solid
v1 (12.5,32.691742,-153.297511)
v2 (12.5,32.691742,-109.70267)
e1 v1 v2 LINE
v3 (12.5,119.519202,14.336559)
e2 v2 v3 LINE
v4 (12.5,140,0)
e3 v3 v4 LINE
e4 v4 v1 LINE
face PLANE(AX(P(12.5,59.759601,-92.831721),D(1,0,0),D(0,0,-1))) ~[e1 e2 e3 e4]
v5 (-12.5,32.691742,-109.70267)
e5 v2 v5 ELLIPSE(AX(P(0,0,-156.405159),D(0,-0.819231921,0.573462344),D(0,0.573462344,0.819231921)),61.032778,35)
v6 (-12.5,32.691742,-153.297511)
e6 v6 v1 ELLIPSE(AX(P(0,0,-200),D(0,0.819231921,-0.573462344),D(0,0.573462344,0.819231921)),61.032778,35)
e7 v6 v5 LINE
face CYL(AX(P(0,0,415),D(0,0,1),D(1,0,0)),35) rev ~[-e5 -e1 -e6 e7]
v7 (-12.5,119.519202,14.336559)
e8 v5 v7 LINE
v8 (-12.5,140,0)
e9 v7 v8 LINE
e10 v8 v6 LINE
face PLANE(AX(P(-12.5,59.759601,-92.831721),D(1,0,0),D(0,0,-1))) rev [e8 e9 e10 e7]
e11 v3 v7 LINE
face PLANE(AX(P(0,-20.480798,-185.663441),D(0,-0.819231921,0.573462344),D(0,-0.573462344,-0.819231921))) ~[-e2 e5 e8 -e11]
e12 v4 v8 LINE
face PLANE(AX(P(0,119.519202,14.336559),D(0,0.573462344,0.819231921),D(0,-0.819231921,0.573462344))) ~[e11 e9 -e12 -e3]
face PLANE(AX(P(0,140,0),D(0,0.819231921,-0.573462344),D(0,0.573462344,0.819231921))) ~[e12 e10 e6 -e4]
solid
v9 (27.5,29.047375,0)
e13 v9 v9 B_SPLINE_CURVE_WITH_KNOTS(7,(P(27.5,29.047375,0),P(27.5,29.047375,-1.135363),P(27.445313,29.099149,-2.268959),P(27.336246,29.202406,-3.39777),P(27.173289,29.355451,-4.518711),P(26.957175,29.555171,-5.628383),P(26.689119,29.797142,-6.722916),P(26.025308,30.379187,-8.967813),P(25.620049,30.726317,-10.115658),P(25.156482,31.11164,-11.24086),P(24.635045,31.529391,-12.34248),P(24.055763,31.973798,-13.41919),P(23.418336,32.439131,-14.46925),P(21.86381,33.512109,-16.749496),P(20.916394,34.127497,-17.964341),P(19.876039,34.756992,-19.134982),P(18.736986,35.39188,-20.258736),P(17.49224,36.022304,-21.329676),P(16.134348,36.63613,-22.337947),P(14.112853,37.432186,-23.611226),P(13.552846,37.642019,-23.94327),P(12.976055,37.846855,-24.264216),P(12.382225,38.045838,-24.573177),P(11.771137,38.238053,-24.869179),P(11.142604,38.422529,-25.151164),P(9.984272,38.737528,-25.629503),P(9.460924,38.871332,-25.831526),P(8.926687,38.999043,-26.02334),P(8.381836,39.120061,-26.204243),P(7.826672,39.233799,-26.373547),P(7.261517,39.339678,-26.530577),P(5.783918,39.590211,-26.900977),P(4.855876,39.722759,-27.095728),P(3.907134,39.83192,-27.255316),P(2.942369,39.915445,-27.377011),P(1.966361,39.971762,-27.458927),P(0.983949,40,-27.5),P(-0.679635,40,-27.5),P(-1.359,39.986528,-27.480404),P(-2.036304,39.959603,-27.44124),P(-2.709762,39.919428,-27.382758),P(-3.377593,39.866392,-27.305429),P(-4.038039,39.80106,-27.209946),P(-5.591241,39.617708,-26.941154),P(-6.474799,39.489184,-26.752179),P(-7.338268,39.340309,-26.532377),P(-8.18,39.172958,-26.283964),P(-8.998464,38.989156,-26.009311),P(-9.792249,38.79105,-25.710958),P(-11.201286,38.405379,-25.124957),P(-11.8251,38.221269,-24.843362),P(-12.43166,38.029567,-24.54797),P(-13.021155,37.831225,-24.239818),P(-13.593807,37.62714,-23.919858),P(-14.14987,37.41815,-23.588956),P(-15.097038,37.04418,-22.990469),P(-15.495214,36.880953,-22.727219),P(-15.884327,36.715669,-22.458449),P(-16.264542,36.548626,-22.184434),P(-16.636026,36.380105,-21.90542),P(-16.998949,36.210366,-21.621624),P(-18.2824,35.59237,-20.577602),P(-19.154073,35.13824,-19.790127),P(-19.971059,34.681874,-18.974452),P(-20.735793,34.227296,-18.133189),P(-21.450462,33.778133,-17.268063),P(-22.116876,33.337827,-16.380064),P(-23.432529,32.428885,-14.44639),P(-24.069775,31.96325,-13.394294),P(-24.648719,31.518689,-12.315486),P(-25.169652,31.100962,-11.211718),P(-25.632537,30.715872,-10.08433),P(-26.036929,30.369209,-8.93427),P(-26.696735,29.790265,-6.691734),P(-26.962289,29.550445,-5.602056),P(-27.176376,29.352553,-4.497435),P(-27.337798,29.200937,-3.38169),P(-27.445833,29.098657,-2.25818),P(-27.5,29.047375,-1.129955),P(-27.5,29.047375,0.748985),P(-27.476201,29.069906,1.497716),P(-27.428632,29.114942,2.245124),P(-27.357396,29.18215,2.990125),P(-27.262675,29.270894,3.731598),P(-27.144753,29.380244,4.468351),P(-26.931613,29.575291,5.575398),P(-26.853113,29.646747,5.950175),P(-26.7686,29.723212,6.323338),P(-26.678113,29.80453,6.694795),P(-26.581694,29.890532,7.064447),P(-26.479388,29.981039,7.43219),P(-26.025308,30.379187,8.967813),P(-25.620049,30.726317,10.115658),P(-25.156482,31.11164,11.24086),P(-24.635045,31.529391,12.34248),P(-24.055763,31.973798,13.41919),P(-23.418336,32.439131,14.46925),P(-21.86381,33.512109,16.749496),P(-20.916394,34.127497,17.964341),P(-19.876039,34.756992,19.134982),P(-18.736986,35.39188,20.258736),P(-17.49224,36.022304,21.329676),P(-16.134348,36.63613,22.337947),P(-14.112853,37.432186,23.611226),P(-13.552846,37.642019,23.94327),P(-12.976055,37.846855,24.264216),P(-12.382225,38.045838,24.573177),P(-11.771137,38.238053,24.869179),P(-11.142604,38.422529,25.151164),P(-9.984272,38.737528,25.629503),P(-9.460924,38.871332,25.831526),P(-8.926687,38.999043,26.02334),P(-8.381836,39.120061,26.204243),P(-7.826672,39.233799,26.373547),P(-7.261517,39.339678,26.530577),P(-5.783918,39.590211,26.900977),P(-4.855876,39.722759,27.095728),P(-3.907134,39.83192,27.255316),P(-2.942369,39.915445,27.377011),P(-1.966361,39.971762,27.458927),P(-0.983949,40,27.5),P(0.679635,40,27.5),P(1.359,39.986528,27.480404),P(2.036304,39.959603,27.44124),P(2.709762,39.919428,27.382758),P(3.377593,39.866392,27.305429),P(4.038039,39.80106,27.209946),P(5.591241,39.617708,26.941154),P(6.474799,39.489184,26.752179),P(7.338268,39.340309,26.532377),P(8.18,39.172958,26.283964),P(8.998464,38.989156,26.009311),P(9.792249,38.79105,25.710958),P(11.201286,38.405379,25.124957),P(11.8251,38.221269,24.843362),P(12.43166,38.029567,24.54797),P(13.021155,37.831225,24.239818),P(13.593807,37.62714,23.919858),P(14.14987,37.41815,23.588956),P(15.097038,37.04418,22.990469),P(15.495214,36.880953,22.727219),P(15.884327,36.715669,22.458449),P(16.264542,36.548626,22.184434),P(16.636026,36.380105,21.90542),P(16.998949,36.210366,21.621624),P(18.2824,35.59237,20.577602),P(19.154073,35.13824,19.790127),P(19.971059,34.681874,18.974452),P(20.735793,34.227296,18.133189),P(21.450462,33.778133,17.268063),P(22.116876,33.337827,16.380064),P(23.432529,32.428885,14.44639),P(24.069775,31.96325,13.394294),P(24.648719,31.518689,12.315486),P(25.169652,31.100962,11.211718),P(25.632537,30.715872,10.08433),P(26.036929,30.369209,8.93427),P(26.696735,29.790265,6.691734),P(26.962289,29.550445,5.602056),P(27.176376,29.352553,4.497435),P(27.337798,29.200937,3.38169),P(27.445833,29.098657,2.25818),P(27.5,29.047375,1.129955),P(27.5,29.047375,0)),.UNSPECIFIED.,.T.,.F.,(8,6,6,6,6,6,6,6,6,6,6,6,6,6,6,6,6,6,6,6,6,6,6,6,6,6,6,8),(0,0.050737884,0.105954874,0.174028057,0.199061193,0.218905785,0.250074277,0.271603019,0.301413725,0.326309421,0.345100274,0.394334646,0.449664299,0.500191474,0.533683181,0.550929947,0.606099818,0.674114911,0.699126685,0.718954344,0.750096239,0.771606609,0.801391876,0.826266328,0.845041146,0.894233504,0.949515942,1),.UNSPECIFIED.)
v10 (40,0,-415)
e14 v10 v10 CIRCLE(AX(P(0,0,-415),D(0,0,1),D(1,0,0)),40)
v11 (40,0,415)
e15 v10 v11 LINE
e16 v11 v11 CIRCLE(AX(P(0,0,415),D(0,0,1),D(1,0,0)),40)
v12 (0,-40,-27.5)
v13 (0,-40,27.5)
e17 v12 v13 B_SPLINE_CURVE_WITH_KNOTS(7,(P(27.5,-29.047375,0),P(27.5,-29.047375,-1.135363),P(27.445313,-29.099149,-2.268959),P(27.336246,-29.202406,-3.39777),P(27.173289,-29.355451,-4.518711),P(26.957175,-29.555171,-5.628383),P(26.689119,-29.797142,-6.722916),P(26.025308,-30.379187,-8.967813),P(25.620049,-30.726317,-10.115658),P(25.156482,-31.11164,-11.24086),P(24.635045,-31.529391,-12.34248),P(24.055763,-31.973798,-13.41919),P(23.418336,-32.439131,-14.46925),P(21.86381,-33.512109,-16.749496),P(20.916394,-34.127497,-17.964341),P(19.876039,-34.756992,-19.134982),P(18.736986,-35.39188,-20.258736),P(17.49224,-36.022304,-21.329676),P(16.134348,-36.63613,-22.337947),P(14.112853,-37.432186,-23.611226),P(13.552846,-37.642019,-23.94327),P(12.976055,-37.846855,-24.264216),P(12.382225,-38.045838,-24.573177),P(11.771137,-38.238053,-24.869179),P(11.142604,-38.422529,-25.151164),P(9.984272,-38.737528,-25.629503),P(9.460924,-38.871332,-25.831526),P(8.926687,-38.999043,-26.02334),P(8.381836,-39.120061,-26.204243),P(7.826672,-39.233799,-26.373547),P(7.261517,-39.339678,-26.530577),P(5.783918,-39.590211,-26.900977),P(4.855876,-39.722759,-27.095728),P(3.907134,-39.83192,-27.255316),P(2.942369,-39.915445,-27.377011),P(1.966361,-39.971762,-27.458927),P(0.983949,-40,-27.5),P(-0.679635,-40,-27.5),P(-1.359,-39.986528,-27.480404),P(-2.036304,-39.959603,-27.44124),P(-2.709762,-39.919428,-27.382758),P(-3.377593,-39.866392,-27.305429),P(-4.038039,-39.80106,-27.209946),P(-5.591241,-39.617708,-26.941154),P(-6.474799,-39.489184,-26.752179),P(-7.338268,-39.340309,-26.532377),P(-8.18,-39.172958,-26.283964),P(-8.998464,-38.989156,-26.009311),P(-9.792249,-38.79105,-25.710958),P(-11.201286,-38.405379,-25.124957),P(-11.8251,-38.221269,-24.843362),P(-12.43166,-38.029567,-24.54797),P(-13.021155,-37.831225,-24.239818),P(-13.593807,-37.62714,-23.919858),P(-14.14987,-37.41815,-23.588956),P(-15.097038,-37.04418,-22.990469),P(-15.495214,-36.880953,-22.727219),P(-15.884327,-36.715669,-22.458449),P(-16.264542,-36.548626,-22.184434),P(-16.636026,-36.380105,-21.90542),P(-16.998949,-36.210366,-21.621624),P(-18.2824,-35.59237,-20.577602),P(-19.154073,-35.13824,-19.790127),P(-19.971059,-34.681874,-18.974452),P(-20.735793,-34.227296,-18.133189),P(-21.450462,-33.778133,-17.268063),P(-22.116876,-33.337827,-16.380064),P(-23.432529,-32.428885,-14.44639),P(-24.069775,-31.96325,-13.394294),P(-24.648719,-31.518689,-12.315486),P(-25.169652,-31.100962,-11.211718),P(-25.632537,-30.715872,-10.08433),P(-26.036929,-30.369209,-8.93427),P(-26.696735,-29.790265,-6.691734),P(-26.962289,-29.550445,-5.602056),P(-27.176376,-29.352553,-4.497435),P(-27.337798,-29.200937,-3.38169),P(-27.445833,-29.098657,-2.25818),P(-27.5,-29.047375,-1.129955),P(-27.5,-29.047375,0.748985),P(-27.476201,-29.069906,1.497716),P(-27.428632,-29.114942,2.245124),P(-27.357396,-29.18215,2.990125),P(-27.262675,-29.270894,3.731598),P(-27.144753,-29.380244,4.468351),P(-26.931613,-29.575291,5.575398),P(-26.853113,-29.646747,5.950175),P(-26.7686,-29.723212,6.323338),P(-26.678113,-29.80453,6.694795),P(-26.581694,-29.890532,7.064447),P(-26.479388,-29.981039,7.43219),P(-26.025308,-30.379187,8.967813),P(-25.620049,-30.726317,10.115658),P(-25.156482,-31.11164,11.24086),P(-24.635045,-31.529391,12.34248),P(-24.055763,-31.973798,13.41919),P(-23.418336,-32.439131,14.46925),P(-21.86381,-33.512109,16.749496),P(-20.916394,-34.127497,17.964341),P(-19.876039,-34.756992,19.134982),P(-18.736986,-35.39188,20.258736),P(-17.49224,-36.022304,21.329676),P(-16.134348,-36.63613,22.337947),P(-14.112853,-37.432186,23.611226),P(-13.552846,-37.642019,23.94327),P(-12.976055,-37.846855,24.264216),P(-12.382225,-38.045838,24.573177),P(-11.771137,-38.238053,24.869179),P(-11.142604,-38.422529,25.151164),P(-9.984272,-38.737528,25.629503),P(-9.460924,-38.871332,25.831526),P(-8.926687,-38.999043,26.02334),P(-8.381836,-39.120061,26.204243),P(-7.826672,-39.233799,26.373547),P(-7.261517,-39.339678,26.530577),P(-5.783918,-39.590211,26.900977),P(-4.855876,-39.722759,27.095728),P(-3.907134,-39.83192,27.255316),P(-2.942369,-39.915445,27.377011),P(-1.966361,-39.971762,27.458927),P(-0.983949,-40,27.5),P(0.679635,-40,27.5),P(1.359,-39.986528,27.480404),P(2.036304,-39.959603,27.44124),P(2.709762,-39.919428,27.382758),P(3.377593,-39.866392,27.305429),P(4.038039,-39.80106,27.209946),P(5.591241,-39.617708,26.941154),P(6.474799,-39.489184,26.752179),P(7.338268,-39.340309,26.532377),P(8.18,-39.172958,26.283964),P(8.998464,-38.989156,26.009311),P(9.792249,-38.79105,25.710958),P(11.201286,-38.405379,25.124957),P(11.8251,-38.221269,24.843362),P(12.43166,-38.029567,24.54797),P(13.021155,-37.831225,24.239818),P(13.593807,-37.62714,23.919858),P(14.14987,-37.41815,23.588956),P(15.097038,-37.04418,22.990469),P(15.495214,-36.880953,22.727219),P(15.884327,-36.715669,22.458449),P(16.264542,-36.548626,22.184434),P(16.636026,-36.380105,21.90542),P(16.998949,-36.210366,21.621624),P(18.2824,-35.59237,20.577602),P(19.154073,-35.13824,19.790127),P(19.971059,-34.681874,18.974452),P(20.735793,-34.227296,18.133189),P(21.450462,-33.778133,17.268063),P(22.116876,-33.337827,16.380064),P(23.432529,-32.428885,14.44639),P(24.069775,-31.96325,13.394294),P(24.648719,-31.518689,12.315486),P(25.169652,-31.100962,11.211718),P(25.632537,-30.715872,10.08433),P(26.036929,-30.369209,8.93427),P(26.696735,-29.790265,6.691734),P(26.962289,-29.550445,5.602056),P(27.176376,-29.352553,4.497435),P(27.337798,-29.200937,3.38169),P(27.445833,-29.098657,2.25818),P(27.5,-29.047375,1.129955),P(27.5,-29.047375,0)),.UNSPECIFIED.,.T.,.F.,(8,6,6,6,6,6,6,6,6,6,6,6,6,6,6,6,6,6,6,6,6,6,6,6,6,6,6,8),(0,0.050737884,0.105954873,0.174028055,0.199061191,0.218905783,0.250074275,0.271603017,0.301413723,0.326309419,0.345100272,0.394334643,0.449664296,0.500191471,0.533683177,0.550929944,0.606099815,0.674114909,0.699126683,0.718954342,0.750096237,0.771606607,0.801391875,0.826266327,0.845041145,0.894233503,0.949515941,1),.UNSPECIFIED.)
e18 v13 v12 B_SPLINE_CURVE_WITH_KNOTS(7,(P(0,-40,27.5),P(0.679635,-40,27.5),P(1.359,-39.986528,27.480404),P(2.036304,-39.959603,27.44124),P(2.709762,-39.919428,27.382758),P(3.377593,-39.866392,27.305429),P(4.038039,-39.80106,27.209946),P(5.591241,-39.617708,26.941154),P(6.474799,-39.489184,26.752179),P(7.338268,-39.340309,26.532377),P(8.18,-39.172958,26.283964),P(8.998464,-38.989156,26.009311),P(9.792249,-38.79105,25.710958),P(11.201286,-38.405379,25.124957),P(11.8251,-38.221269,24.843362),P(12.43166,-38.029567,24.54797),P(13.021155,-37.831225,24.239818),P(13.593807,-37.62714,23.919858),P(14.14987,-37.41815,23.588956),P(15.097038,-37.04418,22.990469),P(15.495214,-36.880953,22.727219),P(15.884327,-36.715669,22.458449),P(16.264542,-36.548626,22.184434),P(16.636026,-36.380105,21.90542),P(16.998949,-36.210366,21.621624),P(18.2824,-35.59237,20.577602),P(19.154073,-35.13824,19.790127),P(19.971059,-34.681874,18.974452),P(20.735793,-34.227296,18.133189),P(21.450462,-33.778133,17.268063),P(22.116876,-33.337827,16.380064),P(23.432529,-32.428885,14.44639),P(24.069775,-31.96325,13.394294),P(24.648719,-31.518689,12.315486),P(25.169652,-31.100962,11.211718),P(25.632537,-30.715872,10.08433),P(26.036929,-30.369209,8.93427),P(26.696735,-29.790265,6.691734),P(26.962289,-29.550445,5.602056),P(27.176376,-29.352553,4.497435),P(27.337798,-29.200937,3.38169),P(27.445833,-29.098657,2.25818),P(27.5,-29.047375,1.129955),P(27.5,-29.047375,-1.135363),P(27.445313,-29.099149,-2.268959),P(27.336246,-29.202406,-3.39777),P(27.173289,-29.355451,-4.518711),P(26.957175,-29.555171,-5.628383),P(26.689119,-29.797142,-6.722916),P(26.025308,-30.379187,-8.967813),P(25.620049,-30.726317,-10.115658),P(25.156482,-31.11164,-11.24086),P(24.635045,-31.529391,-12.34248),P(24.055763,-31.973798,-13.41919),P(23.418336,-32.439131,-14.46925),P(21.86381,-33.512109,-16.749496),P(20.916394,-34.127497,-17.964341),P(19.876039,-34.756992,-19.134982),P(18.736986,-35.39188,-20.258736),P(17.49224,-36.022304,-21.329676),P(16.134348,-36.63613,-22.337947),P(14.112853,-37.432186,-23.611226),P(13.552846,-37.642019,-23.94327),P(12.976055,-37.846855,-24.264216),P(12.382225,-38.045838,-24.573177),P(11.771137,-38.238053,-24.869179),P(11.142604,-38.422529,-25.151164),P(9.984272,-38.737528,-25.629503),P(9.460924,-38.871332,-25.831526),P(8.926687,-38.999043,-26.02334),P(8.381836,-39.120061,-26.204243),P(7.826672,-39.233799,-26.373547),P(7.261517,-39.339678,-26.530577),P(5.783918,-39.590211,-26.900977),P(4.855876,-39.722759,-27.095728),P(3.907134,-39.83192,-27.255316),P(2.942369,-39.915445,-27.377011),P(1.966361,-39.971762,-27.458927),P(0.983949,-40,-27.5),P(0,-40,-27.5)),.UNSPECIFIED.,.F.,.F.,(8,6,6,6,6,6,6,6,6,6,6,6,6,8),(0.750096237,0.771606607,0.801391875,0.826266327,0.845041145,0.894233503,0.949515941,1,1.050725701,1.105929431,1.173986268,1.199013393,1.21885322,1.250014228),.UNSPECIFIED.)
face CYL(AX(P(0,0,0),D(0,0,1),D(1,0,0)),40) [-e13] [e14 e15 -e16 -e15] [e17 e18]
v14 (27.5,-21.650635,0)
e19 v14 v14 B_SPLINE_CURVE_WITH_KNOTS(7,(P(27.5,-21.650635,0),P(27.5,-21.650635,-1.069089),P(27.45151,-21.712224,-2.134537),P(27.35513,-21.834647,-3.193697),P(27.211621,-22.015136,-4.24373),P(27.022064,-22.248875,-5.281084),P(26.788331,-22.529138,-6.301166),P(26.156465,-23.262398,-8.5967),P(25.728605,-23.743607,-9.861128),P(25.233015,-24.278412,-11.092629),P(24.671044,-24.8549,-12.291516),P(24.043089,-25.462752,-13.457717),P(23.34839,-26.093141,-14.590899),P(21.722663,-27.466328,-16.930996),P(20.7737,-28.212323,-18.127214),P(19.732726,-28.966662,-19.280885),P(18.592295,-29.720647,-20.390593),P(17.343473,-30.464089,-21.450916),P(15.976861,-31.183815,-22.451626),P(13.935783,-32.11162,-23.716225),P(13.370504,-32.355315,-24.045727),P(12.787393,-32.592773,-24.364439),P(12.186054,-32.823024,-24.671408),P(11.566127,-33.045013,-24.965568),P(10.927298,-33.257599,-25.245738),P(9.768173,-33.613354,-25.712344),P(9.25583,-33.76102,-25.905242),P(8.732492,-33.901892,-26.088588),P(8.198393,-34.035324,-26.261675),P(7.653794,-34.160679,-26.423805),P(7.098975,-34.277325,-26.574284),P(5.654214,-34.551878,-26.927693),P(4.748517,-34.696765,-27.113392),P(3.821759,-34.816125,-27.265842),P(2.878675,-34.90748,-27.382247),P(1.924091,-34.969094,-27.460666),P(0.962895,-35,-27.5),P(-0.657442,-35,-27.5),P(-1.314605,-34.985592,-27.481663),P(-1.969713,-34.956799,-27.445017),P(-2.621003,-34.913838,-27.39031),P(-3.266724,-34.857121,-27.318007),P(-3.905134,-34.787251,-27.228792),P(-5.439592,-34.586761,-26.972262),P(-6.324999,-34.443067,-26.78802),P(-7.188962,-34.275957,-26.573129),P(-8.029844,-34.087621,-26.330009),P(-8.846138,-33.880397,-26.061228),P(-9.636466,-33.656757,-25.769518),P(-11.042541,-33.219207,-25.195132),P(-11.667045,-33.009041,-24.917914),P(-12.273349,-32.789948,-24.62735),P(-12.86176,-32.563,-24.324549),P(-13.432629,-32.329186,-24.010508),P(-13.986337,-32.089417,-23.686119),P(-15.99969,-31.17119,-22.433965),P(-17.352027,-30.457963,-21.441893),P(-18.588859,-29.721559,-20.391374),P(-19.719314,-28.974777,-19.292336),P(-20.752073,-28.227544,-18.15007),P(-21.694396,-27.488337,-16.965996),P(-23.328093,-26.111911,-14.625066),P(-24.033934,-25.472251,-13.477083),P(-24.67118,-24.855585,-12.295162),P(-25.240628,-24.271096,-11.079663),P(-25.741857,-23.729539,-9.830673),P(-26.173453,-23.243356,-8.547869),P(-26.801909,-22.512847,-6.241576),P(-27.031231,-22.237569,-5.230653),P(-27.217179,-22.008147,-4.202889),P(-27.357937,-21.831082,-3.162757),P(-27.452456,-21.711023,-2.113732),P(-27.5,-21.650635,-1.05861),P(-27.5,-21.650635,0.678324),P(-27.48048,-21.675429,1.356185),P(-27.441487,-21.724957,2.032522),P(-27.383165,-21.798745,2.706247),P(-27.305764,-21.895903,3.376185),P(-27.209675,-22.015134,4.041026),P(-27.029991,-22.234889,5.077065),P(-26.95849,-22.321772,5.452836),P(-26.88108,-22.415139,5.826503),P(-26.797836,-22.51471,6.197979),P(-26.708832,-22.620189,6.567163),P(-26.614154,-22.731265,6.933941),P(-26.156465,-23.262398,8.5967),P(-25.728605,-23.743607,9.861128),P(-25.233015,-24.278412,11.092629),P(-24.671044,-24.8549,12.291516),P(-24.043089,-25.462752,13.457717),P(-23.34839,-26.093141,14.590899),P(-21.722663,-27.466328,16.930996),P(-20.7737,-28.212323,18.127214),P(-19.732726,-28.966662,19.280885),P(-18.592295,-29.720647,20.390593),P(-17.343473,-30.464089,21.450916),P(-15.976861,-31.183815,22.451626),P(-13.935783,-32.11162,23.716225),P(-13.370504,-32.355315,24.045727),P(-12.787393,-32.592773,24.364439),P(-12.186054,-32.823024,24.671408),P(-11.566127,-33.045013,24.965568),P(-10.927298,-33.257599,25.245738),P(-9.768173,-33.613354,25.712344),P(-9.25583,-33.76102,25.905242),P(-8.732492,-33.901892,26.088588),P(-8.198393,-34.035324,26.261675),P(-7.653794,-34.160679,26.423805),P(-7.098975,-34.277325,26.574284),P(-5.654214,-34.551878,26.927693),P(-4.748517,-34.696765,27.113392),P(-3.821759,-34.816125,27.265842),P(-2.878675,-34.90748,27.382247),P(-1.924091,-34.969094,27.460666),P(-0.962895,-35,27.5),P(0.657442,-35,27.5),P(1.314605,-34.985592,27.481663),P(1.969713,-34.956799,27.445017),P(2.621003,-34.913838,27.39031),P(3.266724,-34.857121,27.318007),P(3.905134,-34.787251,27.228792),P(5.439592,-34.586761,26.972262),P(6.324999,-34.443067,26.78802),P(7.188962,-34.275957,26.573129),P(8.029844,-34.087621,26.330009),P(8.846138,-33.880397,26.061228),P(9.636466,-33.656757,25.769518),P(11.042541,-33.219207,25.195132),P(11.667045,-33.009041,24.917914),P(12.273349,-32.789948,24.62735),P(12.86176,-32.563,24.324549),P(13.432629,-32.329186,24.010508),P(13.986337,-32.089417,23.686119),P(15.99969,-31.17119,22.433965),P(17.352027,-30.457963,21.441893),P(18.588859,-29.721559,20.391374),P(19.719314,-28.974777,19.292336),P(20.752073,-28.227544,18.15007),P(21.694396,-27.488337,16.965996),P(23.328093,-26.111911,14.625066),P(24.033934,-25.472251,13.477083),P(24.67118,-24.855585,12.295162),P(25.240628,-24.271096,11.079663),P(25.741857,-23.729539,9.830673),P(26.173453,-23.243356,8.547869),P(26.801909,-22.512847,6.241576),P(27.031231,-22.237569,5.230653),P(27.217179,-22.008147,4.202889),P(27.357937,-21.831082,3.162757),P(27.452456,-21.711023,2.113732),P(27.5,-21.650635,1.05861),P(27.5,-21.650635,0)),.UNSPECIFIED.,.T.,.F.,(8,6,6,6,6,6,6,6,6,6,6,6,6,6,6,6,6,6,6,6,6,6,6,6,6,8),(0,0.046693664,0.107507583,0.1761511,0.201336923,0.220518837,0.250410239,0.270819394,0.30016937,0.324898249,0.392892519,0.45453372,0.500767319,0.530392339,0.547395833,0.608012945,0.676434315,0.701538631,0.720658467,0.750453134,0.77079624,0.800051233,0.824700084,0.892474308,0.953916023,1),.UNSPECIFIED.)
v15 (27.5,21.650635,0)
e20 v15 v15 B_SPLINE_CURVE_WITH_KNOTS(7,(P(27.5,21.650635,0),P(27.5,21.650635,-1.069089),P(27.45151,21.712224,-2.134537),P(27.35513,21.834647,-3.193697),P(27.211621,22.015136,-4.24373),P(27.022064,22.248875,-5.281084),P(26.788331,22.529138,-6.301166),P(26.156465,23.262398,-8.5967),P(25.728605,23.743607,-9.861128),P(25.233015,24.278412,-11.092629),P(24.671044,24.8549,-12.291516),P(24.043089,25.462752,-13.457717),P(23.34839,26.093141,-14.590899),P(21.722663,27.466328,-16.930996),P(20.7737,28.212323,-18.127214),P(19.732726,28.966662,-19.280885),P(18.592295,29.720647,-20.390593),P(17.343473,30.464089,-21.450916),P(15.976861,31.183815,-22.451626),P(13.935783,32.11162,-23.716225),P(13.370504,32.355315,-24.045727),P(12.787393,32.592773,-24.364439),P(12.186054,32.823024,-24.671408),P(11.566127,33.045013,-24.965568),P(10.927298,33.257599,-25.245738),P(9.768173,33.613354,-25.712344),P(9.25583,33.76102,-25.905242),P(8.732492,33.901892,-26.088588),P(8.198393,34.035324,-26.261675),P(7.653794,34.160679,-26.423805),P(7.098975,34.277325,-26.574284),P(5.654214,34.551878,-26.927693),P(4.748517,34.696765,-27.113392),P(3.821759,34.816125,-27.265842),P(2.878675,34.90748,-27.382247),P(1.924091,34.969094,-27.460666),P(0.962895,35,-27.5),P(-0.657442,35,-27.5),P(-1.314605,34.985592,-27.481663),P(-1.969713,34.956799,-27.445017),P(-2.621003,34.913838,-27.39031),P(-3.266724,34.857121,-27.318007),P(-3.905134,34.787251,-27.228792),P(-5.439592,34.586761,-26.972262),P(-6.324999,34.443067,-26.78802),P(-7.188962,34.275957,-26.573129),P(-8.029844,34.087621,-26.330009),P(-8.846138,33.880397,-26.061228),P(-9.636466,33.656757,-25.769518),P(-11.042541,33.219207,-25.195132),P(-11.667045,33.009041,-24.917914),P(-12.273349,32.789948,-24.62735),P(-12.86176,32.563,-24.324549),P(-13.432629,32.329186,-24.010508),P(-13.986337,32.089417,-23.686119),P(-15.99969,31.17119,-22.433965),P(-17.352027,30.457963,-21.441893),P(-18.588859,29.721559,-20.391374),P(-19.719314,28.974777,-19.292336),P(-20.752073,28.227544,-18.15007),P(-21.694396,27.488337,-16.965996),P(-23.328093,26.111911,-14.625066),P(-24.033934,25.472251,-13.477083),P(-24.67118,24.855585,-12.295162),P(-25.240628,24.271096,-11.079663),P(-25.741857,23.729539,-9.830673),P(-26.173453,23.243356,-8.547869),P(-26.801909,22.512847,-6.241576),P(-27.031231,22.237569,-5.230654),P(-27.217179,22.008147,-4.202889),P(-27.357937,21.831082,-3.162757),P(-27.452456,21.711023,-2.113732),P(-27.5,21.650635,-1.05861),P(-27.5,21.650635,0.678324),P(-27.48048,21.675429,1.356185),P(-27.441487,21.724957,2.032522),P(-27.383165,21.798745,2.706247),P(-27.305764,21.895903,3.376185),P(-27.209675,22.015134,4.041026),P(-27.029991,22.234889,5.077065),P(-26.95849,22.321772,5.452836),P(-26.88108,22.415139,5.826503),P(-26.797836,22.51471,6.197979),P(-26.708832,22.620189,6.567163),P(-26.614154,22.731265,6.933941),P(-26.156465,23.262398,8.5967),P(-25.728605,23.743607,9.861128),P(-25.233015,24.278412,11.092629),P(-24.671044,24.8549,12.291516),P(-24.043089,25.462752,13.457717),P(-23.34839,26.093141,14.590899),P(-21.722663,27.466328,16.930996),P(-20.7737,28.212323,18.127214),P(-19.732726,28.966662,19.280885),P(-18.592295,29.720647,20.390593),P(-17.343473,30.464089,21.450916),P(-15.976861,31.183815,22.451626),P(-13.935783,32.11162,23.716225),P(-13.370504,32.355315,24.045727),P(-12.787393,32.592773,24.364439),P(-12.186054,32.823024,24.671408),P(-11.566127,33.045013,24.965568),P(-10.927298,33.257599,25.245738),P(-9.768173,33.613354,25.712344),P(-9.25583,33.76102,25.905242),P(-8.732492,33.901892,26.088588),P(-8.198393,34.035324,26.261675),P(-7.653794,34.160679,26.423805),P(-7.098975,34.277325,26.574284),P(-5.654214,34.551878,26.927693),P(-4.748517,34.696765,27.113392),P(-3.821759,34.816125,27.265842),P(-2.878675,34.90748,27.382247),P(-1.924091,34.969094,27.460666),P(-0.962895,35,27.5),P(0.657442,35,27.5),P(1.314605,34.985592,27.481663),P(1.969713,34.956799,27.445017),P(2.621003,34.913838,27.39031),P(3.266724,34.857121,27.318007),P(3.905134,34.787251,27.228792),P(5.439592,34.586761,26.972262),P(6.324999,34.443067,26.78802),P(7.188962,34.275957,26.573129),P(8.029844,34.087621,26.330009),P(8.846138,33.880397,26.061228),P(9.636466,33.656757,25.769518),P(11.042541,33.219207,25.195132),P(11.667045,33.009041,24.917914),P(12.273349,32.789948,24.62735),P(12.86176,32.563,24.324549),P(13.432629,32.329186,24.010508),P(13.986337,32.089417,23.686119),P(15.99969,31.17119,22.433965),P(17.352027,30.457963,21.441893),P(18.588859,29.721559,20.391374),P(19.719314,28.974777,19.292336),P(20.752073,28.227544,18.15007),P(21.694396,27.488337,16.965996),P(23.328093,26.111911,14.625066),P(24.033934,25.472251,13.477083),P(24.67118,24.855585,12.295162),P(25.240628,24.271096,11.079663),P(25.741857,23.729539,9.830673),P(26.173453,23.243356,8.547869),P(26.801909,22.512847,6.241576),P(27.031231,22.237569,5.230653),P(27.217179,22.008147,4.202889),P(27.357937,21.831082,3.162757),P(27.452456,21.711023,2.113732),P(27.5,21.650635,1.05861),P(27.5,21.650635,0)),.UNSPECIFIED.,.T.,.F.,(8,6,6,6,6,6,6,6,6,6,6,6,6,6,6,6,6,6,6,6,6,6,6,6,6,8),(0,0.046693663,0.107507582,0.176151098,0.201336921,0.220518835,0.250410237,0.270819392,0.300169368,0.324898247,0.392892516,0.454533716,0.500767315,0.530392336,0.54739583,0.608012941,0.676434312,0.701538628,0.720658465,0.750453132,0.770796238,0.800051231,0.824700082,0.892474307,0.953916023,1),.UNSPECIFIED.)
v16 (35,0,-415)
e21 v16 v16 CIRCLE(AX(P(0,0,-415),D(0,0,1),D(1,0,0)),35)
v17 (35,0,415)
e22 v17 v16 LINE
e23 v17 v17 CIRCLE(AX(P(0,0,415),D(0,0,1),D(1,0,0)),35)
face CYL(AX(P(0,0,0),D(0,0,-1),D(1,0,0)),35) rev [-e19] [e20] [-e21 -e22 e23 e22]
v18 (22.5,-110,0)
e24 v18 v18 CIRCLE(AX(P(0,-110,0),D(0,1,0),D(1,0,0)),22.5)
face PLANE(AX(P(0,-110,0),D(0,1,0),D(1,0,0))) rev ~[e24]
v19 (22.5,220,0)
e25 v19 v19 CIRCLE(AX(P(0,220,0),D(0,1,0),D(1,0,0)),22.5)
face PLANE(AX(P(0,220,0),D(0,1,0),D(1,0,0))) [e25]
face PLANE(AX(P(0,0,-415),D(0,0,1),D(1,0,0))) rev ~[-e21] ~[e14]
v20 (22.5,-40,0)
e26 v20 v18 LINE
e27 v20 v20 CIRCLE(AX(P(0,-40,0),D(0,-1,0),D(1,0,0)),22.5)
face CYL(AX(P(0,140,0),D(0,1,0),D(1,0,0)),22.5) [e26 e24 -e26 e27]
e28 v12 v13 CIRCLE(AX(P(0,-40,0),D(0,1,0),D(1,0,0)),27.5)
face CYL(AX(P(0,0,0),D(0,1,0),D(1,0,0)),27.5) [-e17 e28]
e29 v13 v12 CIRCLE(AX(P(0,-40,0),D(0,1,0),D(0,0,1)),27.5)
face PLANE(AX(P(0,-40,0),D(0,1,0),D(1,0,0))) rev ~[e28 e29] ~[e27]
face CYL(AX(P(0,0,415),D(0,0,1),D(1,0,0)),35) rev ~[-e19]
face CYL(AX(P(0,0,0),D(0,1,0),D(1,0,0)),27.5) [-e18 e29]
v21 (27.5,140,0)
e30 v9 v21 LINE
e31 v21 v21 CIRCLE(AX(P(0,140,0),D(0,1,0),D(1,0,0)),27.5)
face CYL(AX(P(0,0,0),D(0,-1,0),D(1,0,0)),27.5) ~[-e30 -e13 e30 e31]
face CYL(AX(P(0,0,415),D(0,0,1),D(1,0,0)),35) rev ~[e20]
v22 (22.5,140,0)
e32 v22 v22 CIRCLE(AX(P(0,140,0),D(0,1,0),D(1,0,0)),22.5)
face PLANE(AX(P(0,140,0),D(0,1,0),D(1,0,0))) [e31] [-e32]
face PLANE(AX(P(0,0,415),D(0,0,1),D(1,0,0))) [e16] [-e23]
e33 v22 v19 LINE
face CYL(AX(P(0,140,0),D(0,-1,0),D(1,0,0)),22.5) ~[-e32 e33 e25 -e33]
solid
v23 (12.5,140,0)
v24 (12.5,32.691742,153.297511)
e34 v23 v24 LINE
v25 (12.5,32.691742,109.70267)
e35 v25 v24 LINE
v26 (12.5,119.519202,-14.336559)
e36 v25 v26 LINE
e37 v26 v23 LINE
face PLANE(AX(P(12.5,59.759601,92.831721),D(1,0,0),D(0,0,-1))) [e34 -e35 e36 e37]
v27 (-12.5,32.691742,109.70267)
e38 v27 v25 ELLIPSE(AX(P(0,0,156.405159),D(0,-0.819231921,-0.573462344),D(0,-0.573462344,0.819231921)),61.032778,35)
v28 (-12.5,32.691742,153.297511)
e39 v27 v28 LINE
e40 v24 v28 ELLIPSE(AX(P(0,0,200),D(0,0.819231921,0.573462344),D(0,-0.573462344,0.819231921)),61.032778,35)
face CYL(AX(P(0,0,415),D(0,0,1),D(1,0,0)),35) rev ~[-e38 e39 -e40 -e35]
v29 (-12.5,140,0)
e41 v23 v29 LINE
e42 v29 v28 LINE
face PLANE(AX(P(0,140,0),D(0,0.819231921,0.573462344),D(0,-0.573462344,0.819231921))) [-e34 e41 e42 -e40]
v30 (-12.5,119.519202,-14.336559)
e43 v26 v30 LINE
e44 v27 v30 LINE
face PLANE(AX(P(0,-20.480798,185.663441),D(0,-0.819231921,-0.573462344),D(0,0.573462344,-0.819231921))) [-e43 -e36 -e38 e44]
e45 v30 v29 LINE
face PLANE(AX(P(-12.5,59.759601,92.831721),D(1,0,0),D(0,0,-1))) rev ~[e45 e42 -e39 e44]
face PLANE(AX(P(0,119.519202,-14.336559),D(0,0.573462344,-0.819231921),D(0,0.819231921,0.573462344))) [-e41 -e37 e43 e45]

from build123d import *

# Parameters (mm, degrees)
SKETCH1_R                = 40
SKETCH1_R_2              = 35
EXTRUDE_THIN1_DEPTH      = 415
SKETCH2_R                = 27.5
SKETCH2_R_2              = 22.5
EXTRUDE_THIN3_DEPTH      = 140
EXTRUDE_THIN3_DEPTH_BACK = 40
SKETCH3_R                = 22.5
BOSS_EXTRUDE1_DEPTH      = 80
BOSS_EXTRUDE1_DEPTH_BACK = 250
EXTRUDE_THIN4_DEPTH      = 12.5
SKETCH6_R                = 35
CUT_EXTRUDE1_DEPTH       = 831.0000001


with BuildPart() as part:
    # Sketch1 → Extrude-Thin1 (new body, symmetric)
    with BuildSketch(Plane.XY):
        Circle(SKETCH1_R)
        Circle(SKETCH1_R_2, mode=Mode.SUBTRACT)
    extrude(amount=EXTRUDE_THIN1_DEPTH, both=True)

    # Sketch2 → Extrude-Thin3 (add, two sides)
    with BuildSketch(Plane(origin=(0, 0, 0), x_dir=(1, 0, 0), z_dir=(0, 1, 0))) as extrude_thin3_sk:
        Circle(SKETCH2_R)
        Circle(SKETCH2_R_2, mode=Mode.SUBTRACT)
    extrude(amount=EXTRUDE_THIN3_DEPTH)
    extrude(extrude_thin3_sk.sketch, amount=-EXTRUDE_THIN3_DEPTH_BACK)

    # Sketch3 → Boss-Extrude1 (add, two sides)
    with BuildSketch(Plane(origin=(0, 140, 0), x_dir=(1, 0, 0), z_dir=(0, 1, 0))) as boss_extrude1_sk:
        Circle(SKETCH3_R)
    extrude(amount=BOSS_EXTRUDE1_DEPTH)
    extrude(boss_extrude1_sk.sketch, amount=-BOSS_EXTRUDE1_DEPTH_BACK)


with BuildPart() as body_2:
    # Sketch4 → Extrude-Thin4 (new body, symmetric)
    with BuildSketch(Plane(origin=(0, 0, 0), x_dir=(0, 0, -1), z_dir=(1, 0, 0))):
        Polygon((0, 140), (-200, 0), (-185.663441391, -20.480798013), (14.336558609, 119.519201987), align=None)
    extrude(amount=EXTRUDE_THIN4_DEPTH, both=True)


with BuildPart() as body_3:
    # Mirror2: mirrored copy
    add(body_2.part.mirror(Plane.XY))


with BuildPart() as cut_extrude1_tool:
    # Sketch6 → Cut-Extrude1 (new body, through all)
    with BuildSketch(Plane.XY.offset(415)):
        Circle(SKETCH6_R)
    extrude(amount=-CUT_EXTRUDE1_DEPTH)


with BuildPart() as part_1:
    add(part.part)

    # Cut-Extrude1: cut by cut_extrude1_tool
    add(cut_extrude1_tool.part, mode=Mode.SUBTRACT)


with BuildPart() as body_2_1:
    add(body_2.part)

    # Cut-Extrude1: cut by cut_extrude1_tool
    add(cut_extrude1_tool.part, mode=Mode.SUBTRACT)


with BuildPart() as body_3_1:
    add(body_3.part)

    # Cut-Extrude1: cut by cut_extrude1_tool
    add(cut_extrude1_tool.part, mode=Mode.SUBTRACT)


solid = Compound([part_1.part, body_2_1.part, body_3_1.part])
